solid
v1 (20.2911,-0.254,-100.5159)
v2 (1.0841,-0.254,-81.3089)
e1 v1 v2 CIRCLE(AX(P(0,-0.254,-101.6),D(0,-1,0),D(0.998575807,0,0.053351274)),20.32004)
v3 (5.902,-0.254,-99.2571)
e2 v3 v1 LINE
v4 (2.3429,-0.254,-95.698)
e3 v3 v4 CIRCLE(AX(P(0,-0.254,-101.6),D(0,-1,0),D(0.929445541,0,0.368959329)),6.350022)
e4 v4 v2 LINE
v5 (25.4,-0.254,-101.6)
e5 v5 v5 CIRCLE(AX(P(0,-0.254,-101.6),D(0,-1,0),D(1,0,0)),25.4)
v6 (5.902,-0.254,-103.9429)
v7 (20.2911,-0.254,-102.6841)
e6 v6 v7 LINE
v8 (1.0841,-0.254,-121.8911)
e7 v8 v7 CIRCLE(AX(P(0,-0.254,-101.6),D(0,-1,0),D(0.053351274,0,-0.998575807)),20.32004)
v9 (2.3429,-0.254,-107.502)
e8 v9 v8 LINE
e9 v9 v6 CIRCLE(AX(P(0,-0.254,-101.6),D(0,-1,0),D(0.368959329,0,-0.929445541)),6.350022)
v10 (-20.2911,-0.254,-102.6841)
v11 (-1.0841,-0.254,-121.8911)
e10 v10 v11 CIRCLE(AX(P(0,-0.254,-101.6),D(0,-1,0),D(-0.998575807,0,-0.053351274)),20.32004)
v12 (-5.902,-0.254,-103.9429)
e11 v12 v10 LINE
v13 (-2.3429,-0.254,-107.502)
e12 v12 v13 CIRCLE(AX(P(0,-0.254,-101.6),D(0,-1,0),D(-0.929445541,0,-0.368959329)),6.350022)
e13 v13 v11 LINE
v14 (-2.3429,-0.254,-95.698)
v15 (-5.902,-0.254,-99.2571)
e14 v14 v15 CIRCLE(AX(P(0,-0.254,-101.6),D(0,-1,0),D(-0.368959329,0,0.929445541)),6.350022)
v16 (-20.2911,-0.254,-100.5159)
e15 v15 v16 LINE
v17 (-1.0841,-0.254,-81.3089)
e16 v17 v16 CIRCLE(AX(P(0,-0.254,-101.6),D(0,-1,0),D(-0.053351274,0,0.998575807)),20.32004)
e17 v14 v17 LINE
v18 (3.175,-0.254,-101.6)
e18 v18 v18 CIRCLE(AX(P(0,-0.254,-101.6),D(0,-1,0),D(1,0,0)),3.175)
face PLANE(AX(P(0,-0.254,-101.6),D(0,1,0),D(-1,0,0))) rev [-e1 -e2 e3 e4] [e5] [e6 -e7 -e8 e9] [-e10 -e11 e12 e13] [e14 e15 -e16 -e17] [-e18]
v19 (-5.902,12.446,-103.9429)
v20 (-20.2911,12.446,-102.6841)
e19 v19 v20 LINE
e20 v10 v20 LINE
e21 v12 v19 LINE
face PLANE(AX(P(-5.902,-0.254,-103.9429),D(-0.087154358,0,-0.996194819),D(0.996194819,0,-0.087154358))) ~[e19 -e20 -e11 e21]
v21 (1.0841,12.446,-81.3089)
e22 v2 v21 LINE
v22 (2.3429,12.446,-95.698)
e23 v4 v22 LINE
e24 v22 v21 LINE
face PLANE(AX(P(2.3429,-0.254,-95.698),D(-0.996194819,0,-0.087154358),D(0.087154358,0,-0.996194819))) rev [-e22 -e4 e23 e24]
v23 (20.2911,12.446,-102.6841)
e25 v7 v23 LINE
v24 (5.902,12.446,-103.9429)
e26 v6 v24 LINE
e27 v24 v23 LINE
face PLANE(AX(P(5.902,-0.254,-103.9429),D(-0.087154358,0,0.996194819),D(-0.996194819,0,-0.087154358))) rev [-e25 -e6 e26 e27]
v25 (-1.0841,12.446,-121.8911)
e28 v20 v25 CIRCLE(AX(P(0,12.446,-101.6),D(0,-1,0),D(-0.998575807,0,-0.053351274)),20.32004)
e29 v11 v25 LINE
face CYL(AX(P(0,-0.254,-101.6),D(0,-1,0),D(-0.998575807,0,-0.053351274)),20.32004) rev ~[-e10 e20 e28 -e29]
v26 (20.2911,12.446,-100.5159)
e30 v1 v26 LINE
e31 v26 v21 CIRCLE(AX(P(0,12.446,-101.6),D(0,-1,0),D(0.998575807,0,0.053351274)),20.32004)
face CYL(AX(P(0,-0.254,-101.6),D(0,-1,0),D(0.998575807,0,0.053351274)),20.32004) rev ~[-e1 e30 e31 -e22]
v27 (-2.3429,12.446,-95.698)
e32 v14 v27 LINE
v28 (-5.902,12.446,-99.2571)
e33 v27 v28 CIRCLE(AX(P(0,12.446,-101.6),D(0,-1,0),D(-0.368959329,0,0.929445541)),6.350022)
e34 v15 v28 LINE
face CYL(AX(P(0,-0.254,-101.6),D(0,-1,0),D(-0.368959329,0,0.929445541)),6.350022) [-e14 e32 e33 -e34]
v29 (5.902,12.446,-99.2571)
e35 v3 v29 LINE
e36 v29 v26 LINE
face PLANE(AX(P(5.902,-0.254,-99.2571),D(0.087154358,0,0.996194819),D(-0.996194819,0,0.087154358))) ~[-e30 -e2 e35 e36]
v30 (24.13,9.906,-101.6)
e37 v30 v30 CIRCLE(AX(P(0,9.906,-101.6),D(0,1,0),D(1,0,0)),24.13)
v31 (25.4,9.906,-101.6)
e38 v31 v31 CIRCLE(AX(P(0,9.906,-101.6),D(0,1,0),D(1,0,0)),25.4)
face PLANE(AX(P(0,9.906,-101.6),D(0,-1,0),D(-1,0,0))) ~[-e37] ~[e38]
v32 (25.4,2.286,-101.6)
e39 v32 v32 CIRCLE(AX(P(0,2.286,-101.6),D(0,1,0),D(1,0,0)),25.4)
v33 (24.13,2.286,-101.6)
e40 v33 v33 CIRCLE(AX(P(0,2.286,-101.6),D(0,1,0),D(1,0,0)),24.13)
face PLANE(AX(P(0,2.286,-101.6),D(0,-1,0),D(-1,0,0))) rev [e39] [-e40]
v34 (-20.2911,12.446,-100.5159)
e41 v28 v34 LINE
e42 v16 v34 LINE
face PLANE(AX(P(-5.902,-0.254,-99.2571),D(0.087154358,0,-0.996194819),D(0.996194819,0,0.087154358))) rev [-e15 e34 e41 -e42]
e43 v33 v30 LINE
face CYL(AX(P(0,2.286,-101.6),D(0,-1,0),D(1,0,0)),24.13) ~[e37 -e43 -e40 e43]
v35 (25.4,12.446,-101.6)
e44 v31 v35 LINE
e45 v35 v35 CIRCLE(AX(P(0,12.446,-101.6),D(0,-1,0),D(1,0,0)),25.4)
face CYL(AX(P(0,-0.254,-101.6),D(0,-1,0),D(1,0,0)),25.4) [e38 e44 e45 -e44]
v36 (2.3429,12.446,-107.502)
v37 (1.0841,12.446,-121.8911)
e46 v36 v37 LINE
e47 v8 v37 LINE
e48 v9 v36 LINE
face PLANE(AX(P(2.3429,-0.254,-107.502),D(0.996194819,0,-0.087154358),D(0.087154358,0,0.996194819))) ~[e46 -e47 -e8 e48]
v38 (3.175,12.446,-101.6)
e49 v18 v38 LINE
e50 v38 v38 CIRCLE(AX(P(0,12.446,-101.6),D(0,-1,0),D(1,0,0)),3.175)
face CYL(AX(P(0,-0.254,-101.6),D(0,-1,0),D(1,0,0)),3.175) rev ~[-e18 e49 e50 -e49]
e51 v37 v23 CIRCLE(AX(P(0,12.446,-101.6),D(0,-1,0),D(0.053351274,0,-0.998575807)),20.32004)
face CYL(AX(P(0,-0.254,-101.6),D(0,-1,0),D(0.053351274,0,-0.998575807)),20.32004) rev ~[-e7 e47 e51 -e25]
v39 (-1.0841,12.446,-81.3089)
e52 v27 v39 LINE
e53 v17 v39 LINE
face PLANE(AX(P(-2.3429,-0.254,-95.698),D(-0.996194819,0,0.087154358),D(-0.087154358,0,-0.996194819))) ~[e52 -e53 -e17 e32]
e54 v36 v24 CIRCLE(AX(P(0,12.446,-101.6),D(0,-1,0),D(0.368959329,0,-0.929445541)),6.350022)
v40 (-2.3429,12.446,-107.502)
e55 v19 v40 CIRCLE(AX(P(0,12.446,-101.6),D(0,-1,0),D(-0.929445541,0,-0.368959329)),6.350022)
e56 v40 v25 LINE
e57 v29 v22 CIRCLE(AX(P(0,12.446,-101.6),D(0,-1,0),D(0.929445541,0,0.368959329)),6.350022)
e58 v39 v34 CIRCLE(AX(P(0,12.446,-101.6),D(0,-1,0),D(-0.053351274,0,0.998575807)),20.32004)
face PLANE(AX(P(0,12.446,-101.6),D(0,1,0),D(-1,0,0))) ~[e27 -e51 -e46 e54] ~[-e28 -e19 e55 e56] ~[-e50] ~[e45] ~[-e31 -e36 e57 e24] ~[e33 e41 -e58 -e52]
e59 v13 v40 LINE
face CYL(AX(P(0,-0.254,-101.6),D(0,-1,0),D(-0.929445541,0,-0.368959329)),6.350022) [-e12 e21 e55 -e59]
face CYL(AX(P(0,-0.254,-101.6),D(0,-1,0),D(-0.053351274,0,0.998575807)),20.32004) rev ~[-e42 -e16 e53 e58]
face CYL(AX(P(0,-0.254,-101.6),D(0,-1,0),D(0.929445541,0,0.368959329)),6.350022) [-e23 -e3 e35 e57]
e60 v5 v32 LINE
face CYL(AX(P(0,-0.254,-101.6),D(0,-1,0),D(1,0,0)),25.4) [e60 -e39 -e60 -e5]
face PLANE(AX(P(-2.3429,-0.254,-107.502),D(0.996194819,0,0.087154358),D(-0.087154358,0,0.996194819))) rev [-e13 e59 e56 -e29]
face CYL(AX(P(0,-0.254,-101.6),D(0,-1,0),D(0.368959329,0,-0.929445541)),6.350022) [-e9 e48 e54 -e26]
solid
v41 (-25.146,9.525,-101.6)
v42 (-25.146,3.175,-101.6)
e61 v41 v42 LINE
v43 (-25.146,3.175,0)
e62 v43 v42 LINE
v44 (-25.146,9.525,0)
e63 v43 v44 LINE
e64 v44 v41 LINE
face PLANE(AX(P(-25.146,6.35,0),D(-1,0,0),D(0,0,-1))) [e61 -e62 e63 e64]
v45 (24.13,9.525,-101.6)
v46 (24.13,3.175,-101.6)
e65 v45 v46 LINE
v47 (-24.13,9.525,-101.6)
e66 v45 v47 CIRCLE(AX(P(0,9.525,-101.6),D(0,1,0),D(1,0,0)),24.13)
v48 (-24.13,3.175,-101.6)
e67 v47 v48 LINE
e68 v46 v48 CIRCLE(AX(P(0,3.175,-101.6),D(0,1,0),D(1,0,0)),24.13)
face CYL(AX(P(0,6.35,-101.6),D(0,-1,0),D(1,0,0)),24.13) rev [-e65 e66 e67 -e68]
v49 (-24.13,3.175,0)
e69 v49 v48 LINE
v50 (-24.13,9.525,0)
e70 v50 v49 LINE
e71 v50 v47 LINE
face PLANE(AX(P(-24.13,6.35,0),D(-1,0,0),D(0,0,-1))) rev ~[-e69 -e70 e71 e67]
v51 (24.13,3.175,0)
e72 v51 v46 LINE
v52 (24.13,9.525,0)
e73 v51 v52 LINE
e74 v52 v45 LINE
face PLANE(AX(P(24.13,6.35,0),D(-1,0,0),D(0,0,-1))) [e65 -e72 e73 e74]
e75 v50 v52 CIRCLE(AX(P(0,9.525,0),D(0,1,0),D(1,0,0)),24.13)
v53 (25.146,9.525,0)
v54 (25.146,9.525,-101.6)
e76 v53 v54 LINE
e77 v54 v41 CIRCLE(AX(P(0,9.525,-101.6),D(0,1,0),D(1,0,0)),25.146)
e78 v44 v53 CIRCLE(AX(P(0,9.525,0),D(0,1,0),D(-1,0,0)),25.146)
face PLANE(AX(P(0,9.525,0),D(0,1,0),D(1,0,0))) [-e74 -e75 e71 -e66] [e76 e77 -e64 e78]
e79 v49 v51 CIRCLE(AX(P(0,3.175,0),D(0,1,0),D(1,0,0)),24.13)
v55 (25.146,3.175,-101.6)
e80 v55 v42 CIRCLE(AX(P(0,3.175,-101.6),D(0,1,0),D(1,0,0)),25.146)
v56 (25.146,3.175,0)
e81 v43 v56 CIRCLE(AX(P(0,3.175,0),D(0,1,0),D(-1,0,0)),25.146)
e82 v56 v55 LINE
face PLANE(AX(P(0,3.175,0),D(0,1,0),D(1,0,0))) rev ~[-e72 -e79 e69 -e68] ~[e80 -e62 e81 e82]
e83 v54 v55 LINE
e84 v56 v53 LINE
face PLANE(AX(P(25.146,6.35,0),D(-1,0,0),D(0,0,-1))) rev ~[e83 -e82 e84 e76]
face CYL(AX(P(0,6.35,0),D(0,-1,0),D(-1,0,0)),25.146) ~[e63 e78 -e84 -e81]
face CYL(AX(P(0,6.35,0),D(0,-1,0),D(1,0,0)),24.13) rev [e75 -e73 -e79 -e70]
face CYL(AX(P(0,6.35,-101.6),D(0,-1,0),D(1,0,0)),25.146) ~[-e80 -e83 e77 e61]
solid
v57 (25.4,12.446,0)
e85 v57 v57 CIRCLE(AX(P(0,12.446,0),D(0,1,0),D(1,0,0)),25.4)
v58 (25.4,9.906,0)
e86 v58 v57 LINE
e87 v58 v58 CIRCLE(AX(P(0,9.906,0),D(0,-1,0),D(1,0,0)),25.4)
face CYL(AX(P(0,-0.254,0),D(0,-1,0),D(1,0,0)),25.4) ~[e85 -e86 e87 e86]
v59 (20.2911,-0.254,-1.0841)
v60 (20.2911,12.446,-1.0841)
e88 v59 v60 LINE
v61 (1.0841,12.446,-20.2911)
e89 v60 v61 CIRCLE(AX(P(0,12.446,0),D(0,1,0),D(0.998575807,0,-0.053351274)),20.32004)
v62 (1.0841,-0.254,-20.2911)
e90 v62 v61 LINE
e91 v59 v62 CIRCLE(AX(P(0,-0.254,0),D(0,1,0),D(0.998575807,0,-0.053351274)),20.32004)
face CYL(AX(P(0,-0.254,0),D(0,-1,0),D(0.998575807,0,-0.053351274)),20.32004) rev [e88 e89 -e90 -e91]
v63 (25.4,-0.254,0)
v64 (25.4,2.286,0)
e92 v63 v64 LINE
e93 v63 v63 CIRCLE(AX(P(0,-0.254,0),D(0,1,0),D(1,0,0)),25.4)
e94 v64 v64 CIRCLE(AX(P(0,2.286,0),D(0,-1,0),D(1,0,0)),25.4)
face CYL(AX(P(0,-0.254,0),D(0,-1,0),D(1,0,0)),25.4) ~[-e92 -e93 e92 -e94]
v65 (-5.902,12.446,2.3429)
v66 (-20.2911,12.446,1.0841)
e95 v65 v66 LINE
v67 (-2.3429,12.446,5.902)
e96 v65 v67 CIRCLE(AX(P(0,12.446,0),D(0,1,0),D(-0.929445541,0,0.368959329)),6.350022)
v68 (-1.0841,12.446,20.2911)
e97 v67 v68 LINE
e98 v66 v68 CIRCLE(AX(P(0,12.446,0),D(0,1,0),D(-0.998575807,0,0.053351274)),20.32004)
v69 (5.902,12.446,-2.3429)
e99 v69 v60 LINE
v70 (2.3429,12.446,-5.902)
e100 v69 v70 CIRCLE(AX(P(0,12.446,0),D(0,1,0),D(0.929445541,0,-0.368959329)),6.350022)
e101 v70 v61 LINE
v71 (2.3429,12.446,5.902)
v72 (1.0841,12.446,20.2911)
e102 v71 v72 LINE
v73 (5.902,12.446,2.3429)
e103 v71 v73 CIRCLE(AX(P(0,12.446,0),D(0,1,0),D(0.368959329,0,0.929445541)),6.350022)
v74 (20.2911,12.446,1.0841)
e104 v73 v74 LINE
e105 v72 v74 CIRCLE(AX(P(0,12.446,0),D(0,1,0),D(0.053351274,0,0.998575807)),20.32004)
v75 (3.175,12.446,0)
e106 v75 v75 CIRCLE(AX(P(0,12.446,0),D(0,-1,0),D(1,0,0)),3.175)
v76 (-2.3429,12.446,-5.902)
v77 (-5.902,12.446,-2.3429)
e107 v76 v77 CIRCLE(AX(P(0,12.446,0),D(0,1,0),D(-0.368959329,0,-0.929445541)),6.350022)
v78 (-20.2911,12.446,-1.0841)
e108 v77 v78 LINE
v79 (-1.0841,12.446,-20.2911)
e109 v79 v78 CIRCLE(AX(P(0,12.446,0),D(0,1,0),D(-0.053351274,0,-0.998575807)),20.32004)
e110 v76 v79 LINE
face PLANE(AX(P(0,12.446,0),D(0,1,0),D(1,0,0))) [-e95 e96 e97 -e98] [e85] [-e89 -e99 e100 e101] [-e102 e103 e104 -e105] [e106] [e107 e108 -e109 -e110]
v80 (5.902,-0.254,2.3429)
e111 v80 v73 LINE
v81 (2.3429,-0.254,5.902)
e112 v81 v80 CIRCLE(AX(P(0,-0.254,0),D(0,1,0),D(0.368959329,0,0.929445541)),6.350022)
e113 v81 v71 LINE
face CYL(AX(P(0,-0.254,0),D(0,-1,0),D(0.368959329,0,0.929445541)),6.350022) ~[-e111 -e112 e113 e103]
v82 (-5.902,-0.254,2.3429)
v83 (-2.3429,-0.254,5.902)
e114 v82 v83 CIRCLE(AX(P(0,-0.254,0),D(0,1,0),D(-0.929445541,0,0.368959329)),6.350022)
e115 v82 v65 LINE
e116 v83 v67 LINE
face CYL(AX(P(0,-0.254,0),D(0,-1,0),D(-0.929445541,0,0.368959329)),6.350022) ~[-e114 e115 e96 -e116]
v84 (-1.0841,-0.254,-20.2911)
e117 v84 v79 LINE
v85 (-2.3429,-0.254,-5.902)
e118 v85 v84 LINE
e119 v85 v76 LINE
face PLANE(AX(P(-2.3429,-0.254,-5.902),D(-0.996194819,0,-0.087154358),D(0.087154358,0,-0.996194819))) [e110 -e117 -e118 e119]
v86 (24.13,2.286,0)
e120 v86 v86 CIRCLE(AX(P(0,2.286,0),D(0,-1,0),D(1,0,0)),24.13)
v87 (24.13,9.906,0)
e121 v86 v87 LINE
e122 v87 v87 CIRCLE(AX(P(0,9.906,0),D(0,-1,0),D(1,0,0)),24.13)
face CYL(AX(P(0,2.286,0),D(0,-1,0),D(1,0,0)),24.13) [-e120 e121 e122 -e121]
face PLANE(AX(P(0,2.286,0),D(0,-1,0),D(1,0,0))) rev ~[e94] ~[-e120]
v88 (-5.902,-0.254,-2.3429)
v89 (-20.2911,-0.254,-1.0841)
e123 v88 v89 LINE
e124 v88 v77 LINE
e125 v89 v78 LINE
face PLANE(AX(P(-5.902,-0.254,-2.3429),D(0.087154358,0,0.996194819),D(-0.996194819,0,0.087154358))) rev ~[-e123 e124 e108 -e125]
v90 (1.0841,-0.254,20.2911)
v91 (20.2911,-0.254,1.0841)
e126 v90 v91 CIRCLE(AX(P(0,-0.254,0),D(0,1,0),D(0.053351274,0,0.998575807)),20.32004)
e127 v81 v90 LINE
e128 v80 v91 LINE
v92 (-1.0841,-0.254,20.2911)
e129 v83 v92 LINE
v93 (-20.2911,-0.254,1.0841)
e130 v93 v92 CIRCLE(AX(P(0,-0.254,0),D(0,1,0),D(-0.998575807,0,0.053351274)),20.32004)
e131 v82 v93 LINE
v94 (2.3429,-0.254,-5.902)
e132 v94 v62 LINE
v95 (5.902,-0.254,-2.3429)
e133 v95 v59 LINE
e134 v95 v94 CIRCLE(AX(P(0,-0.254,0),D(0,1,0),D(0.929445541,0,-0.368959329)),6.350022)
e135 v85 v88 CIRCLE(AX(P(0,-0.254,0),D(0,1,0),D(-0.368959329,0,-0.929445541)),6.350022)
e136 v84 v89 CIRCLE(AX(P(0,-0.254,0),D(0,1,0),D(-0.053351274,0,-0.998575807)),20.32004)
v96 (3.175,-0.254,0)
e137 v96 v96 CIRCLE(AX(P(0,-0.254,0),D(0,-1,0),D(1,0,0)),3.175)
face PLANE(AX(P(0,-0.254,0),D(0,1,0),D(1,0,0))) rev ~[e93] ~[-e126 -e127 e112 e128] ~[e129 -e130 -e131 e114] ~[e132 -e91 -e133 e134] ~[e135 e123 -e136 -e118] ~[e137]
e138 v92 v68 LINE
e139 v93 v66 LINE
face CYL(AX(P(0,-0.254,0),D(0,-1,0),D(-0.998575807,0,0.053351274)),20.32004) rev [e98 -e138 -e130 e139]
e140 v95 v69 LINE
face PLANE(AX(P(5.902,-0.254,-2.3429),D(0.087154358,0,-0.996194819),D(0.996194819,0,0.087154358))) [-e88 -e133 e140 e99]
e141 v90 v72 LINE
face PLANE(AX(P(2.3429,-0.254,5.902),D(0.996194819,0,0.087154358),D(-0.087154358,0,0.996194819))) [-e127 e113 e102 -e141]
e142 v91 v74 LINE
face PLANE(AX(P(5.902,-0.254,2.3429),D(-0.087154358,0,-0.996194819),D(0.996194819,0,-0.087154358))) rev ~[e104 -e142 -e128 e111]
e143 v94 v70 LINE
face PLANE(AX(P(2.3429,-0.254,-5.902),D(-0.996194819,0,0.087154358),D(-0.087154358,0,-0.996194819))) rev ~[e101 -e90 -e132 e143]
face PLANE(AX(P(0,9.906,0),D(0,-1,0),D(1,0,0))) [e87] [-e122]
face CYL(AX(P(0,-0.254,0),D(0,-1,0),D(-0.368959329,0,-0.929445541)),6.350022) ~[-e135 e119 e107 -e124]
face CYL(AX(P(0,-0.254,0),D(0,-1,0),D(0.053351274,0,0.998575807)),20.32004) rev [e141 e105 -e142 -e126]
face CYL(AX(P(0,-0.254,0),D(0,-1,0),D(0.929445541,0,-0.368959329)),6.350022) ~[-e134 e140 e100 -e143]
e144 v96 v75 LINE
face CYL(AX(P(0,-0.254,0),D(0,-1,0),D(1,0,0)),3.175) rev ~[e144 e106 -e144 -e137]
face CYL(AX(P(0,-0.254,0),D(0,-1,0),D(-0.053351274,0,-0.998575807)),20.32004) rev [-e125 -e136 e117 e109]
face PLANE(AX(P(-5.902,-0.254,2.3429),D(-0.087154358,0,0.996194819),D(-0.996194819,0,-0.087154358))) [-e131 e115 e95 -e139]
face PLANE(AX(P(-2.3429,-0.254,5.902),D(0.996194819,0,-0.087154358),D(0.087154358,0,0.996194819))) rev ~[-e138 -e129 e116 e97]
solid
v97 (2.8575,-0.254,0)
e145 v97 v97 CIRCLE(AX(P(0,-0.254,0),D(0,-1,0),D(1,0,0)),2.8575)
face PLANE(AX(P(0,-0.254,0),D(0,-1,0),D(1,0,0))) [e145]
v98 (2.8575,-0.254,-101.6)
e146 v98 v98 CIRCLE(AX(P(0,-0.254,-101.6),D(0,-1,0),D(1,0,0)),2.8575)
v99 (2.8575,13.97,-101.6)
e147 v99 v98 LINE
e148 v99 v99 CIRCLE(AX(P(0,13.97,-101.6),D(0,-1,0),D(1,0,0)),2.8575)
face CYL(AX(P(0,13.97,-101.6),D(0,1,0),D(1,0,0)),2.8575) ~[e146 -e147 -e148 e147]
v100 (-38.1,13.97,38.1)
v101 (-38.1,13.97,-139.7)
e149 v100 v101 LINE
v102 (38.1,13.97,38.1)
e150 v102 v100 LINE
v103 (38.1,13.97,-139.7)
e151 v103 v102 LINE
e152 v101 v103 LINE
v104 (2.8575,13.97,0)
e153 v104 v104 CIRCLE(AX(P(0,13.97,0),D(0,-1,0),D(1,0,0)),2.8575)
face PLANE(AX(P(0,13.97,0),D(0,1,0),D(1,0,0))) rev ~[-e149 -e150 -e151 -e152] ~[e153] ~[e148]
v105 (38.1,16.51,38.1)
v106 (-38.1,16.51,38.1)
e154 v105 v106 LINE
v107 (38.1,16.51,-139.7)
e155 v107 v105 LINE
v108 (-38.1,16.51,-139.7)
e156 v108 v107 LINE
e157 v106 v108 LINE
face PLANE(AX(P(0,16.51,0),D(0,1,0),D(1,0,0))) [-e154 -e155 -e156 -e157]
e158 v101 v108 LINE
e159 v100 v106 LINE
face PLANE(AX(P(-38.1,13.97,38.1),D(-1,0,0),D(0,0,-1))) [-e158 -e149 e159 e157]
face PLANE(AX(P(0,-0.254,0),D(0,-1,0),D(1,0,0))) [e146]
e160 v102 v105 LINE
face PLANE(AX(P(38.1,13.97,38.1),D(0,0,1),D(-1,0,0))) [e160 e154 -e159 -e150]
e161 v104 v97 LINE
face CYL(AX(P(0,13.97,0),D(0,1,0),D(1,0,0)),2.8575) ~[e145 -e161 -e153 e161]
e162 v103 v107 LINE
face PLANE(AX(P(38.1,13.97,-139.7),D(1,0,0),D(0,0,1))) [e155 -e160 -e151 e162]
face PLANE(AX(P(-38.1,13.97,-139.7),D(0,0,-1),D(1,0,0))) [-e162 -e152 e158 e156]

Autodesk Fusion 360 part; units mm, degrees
sketch "Sketch1" plane through (0, 0, 0) normal (0, 1, 0) x (1, 0, 0)
  circle A0 centre (0, 0) radius 25.4
  line L0 (-5.902, 2.3429) -> (-20.3281, 1.0808)
  line L1 (-5.902, 2.3429) -> (8.5793, 2.3429) construction
  line L2 (2.5, 0) -> (20, 0)
  line L3 (-5.902, -2.3429) -> (-20.3281, -1.0808)
  line L4 (2.3429, -5.902) -> (1.0808, -20.3281)
  line L5 (-2.3429, -5.902) -> (-1.0808, -20.3281)
  line L6 (5.902, 2.3429) -> (20.3281, 1.0808)
  line L7 (5.902, -2.3429) -> (20.3281, -1.0808)
  line L8 (-2.3429, 5.902) -> (-1.0808, 20.3281)
  line L9 (2.3429, 5.902) -> (1.0808, 20.3281)
  arc A1 (-20.2911, -1.0841) -> (-1.0841, -20.2911) centre (0, 0) ccw
  arc A2 (1.0841, -20.2911) -> (20.2911, -1.0841) centre (0, 0) ccw
  arc A3 (5.902, 2.3429) -> (2.3429, 5.902) centre (0, 0) ccw
  arc A4 (-2.3429, 5.902) -> (-5.902, 2.3429) centre (0, 0) ccw
  arc A5 (-5.902, -2.3429) -> (-2.3429, -5.902) centre (0, 0) ccw
  arc A6 (2.3429, -5.902) -> (5.902, -2.3429) centre (0, 0) ccw
  arc A7 (20.2911, 1.0841) -> (1.0841, 20.2911) centre (0, 0) ccw
  arc A8 (-1.0841, 20.2911) -> (-20.2911, 1.0841) centre (0, 0) ccw
  dimension "d1" = 50.8
  dimension "d3" = 12.7
  dimension "d4" = 175
  dimension "d6" = 360
extrude "Extrude1" add sketch "Sketch1" along normal blind 12.7 makes body 1
sketch "Sketch2" plane through (0, 0, 0) normal (0, -1, 0) x (1, 0, 0)
  line L0 (-2.3429, -5.902) -> (-1.0841, -20.2911)
  arc A0 (-20.2911, -1.0841) -> (-1.0841, -20.2911) centre (0, 0) ccw
  line L1 (-20.2911, -1.0841) -> (-5.902, -2.3429)
  arc A1 (-5.902, -2.3429) -> (-2.3429, -5.902) centre (0, 0) ccw
  line L2 (5.902, -2.3429) -> (20.2911, -1.0841)
  arc A2 (1.0841, -20.2911) -> (20.2911, -1.0841) centre (0, 0) ccw
  line L3 (1.0841, -20.2911) -> (2.3429, -5.902)
  arc A3 (2.3429, -5.902) -> (5.902, -2.3429) centre (0, 0) ccw
  arc A4 (20.2911, 1.0841) -> (1.0841, 20.2911) centre (0, 0) ccw
  line L4 (20.2911, 1.0841) -> (5.902, 2.3429)
  arc A5 (5.902, 2.3429) -> (2.3429, 5.902) centre (0, 0) ccw
  line L5 (2.3429, 5.902) -> (1.0841, 20.2911)
  arc A6 (-1.0841, 20.2911) -> (-20.2911, 1.0841) centre (0, 0) ccw
  line L6 (-1.0841, 20.2911) -> (-2.3429, 5.902)
  arc A7 (-2.3429, 5.902) -> (-5.902, 2.3429) centre (0, 0) ccw
  line L7 (-5.902, 2.3429) -> (-20.2911, 1.0841)
  circle A8 centre (0, 0) radius 25.4
  circle A9 centre (0, 0) radius 25.4
  circle A10 centre (0, 0) radius 24.13
  dimension "d9" = -1.27
extrude "Extrude2" cut sketch "Sketch2" against normal blind 7.62 from surface at -2.54 contours A8 A9 bodies 1
ref_plane "WorkPlane1" through (0, 0, -50.8) normal (0, 0, 1) x (1, 0, 0)
mirror "Mirror1" about plane through (0, 0, -50.8) normal (0, 0, 1) of bodies 1 makes body 2
ref_plane "WorkPlane2" through (0, 6.35, 0) normal (0, 1, 0) x (0, 0, 1)
sketch "Sketch3" plane through (0, 6.35, 0) normal (0, 1, 0) x (1, 0, 0)
  circle A0 centre (0, 0) radius 24.13
  circle A1 centre (0, 101.6) radius 24.13
  line L0 (0, 0) -> (-24.13, 0)
  line L1 (-24.13, 0) -> (-24.13, 101.6)
  line L2 (0, -20) -> (0, -2.5)
  line L3 (24.13, 0) -> (24.13, 101.6)
  arc A2 (-24.13, 0) -> (24.13, 0) centre (0, 0) ccw
  arc A3 (24.13, 101.6) -> (-24.13, 101.6) centre (0, 101.6) ccw
  arc A4 (-25.146, 0) -> (25.146, 0) centre (0, 0) ccw
  line L4 (25.146, 0) -> (25.146, 101.6)
  arc A5 (25.146, 101.6) -> (-25.146, 101.6) centre (0, 101.6) ccw
  line L5 (-25.146, 0) -> (-25.146, 101.6)
  dimension "d17" = 101.6
  dimension "d18" = -1.016
extrude "Extrude3" add sketch "Sketch3" along normal mid plane 6.35 separate body makes body 3
copy_body "Body->Comp1" bodies 3 removing the originals makes body 4 in component "Belt"
copy_body "Body->Comp2" bodies 1 removing the originals makes body 5 in component "Wheel1"
copy_body "Body->Comp3" bodies 2 removing the originals makes body 6 in component "Wheel2"
sketch "Sketch4" plane through (0, 0, 0) normal (0, -1, 0) x (1, 0, 0)
  line L0 (-2.3429, -5.902) -> (-1.0841, -20.2911)
  arc A0 (-20.2911, -1.0841) -> (-1.0841, -20.2911) centre (0, 0) ccw
  line L1 (-20.2911, -1.0841) -> (-5.902, -2.3429)
  arc A1 (-5.902, -2.3429) -> (-2.3429, -5.902) centre (0, 0) ccw
  line L2 (5.902, -2.3429) -> (20.2911, -1.0841)
  arc A2 (1.0841, -20.2911) -> (20.2911, -1.0841) centre (0, 0) ccw
  line L3 (1.0841, -20.2911) -> (2.3429, -5.902)
  arc A3 (2.3429, -5.902) -> (5.902, -2.3429) centre (0, 0) ccw
  arc A4 (20.2911, 1.0841) -> (1.0841, 20.2911) centre (0, 0) ccw
  line L4 (20.2911, 1.0841) -> (5.902, 2.3429)
  arc A5 (5.902, 2.3429) -> (2.3429, 5.902) centre (0, 0) ccw
  line L5 (2.3429, 5.902) -> (1.0841, 20.2911)
  arc A6 (-1.0841, 20.2911) -> (-20.2911, 1.0841) centre (0, 0) ccw
  line L6 (-1.0841, 20.2911) -> (-2.3429, 5.902)
  arc A7 (-2.3429, 5.902) -> (-5.902, 2.3429) centre (0, 0) ccw
  line L7 (-5.902, 2.3429) -> (-20.2911, 1.0841)
  circle A8 centre (0, 0) radius 25.4
  circle A9 centre (0, 0) radius 3.175
  line L8 (0.4291, -50.8) -> (12.4447, -50.8)
  circle A10 centre (0, -101.6) radius 3.175
  dimension "d21" = 6.35
extrude "Extrude1'" cut sketch "Sketch4" against normal up to surface (12.7 mm away) contours A9 | A10 bodies 5 in component "Wheel1"
extrude "Extrude1''" cut sketch "Sketch4" against normal up to surface (12.7 mm away) contours A9 | A10 bodies 6 in component "Wheel2"
ref_plane "WorkPlane3" through (0, 13.97, 0) normal (0, 1, 0) x (1, 0, 0)
sketch "Sketch5" plane through (0, 13.97, 0) normal (0, 1, 0) x (1, 0, 0)
  line L0 (38.1, -38.1) -> (-38.1, -38.1)
  line L1 (-38.1, -38.1) -> (-38.1, 139.7)
  line L2 (-38.1, 139.7) -> (38.1, 139.7)
  line L3 (38.1, 139.7) -> (38.1, -38.1)
extrude "Extrude4" add sketch "Sketch5" along normal blind 2.54 separate body makes body 7
sketch "Sketch6" plane through (0, 13.97, 0) normal (0, -1, 0) x (1, 0, 0)
  line L0 (-38.1, -139.7) -> (38.1, -139.7)
  line L1 (38.1, -139.7) -> (38.1, 38.1)
  line L2 (38.1, 38.1) -> (-38.1, 38.1)
  line L3 (-38.1, 38.1) -> (-38.1, -139.7)
  circle A0 centre (0, 0) radius 2.8575
  line L4 (0.4291, -50.8) -> (12.4447, -50.8)
  circle A1 centre (0, -101.6) radius 2.8575
  dimension "d29" = 5.715
extrude "Extrude5" add sketch "Sketch6" along normal blind 14.224 contours A0 | A1 bodies 7
copy_body "Body->Comp4" bodies 7 removing the originals makes body 8 in component "Backboard"
component "Belt" placed x (1, 0, 0) y (0, 1, 0) z (0, 0, 1) at (0, 0, 0)
component "Wheel1" placed x (1, 0, 0) y (0, 1, 0) z (0, 0, 1) at (0, -0.254, 0)
component "Wheel2" placed x (1, 0, 0) y (0, 1, 0) z (0, 0, 1) at (0, -0.254, 0)
component "Backboard" placed x (1, 0, 0) y (0, 1, 0) z (0, 0, 1) at (0, 0, 0)
